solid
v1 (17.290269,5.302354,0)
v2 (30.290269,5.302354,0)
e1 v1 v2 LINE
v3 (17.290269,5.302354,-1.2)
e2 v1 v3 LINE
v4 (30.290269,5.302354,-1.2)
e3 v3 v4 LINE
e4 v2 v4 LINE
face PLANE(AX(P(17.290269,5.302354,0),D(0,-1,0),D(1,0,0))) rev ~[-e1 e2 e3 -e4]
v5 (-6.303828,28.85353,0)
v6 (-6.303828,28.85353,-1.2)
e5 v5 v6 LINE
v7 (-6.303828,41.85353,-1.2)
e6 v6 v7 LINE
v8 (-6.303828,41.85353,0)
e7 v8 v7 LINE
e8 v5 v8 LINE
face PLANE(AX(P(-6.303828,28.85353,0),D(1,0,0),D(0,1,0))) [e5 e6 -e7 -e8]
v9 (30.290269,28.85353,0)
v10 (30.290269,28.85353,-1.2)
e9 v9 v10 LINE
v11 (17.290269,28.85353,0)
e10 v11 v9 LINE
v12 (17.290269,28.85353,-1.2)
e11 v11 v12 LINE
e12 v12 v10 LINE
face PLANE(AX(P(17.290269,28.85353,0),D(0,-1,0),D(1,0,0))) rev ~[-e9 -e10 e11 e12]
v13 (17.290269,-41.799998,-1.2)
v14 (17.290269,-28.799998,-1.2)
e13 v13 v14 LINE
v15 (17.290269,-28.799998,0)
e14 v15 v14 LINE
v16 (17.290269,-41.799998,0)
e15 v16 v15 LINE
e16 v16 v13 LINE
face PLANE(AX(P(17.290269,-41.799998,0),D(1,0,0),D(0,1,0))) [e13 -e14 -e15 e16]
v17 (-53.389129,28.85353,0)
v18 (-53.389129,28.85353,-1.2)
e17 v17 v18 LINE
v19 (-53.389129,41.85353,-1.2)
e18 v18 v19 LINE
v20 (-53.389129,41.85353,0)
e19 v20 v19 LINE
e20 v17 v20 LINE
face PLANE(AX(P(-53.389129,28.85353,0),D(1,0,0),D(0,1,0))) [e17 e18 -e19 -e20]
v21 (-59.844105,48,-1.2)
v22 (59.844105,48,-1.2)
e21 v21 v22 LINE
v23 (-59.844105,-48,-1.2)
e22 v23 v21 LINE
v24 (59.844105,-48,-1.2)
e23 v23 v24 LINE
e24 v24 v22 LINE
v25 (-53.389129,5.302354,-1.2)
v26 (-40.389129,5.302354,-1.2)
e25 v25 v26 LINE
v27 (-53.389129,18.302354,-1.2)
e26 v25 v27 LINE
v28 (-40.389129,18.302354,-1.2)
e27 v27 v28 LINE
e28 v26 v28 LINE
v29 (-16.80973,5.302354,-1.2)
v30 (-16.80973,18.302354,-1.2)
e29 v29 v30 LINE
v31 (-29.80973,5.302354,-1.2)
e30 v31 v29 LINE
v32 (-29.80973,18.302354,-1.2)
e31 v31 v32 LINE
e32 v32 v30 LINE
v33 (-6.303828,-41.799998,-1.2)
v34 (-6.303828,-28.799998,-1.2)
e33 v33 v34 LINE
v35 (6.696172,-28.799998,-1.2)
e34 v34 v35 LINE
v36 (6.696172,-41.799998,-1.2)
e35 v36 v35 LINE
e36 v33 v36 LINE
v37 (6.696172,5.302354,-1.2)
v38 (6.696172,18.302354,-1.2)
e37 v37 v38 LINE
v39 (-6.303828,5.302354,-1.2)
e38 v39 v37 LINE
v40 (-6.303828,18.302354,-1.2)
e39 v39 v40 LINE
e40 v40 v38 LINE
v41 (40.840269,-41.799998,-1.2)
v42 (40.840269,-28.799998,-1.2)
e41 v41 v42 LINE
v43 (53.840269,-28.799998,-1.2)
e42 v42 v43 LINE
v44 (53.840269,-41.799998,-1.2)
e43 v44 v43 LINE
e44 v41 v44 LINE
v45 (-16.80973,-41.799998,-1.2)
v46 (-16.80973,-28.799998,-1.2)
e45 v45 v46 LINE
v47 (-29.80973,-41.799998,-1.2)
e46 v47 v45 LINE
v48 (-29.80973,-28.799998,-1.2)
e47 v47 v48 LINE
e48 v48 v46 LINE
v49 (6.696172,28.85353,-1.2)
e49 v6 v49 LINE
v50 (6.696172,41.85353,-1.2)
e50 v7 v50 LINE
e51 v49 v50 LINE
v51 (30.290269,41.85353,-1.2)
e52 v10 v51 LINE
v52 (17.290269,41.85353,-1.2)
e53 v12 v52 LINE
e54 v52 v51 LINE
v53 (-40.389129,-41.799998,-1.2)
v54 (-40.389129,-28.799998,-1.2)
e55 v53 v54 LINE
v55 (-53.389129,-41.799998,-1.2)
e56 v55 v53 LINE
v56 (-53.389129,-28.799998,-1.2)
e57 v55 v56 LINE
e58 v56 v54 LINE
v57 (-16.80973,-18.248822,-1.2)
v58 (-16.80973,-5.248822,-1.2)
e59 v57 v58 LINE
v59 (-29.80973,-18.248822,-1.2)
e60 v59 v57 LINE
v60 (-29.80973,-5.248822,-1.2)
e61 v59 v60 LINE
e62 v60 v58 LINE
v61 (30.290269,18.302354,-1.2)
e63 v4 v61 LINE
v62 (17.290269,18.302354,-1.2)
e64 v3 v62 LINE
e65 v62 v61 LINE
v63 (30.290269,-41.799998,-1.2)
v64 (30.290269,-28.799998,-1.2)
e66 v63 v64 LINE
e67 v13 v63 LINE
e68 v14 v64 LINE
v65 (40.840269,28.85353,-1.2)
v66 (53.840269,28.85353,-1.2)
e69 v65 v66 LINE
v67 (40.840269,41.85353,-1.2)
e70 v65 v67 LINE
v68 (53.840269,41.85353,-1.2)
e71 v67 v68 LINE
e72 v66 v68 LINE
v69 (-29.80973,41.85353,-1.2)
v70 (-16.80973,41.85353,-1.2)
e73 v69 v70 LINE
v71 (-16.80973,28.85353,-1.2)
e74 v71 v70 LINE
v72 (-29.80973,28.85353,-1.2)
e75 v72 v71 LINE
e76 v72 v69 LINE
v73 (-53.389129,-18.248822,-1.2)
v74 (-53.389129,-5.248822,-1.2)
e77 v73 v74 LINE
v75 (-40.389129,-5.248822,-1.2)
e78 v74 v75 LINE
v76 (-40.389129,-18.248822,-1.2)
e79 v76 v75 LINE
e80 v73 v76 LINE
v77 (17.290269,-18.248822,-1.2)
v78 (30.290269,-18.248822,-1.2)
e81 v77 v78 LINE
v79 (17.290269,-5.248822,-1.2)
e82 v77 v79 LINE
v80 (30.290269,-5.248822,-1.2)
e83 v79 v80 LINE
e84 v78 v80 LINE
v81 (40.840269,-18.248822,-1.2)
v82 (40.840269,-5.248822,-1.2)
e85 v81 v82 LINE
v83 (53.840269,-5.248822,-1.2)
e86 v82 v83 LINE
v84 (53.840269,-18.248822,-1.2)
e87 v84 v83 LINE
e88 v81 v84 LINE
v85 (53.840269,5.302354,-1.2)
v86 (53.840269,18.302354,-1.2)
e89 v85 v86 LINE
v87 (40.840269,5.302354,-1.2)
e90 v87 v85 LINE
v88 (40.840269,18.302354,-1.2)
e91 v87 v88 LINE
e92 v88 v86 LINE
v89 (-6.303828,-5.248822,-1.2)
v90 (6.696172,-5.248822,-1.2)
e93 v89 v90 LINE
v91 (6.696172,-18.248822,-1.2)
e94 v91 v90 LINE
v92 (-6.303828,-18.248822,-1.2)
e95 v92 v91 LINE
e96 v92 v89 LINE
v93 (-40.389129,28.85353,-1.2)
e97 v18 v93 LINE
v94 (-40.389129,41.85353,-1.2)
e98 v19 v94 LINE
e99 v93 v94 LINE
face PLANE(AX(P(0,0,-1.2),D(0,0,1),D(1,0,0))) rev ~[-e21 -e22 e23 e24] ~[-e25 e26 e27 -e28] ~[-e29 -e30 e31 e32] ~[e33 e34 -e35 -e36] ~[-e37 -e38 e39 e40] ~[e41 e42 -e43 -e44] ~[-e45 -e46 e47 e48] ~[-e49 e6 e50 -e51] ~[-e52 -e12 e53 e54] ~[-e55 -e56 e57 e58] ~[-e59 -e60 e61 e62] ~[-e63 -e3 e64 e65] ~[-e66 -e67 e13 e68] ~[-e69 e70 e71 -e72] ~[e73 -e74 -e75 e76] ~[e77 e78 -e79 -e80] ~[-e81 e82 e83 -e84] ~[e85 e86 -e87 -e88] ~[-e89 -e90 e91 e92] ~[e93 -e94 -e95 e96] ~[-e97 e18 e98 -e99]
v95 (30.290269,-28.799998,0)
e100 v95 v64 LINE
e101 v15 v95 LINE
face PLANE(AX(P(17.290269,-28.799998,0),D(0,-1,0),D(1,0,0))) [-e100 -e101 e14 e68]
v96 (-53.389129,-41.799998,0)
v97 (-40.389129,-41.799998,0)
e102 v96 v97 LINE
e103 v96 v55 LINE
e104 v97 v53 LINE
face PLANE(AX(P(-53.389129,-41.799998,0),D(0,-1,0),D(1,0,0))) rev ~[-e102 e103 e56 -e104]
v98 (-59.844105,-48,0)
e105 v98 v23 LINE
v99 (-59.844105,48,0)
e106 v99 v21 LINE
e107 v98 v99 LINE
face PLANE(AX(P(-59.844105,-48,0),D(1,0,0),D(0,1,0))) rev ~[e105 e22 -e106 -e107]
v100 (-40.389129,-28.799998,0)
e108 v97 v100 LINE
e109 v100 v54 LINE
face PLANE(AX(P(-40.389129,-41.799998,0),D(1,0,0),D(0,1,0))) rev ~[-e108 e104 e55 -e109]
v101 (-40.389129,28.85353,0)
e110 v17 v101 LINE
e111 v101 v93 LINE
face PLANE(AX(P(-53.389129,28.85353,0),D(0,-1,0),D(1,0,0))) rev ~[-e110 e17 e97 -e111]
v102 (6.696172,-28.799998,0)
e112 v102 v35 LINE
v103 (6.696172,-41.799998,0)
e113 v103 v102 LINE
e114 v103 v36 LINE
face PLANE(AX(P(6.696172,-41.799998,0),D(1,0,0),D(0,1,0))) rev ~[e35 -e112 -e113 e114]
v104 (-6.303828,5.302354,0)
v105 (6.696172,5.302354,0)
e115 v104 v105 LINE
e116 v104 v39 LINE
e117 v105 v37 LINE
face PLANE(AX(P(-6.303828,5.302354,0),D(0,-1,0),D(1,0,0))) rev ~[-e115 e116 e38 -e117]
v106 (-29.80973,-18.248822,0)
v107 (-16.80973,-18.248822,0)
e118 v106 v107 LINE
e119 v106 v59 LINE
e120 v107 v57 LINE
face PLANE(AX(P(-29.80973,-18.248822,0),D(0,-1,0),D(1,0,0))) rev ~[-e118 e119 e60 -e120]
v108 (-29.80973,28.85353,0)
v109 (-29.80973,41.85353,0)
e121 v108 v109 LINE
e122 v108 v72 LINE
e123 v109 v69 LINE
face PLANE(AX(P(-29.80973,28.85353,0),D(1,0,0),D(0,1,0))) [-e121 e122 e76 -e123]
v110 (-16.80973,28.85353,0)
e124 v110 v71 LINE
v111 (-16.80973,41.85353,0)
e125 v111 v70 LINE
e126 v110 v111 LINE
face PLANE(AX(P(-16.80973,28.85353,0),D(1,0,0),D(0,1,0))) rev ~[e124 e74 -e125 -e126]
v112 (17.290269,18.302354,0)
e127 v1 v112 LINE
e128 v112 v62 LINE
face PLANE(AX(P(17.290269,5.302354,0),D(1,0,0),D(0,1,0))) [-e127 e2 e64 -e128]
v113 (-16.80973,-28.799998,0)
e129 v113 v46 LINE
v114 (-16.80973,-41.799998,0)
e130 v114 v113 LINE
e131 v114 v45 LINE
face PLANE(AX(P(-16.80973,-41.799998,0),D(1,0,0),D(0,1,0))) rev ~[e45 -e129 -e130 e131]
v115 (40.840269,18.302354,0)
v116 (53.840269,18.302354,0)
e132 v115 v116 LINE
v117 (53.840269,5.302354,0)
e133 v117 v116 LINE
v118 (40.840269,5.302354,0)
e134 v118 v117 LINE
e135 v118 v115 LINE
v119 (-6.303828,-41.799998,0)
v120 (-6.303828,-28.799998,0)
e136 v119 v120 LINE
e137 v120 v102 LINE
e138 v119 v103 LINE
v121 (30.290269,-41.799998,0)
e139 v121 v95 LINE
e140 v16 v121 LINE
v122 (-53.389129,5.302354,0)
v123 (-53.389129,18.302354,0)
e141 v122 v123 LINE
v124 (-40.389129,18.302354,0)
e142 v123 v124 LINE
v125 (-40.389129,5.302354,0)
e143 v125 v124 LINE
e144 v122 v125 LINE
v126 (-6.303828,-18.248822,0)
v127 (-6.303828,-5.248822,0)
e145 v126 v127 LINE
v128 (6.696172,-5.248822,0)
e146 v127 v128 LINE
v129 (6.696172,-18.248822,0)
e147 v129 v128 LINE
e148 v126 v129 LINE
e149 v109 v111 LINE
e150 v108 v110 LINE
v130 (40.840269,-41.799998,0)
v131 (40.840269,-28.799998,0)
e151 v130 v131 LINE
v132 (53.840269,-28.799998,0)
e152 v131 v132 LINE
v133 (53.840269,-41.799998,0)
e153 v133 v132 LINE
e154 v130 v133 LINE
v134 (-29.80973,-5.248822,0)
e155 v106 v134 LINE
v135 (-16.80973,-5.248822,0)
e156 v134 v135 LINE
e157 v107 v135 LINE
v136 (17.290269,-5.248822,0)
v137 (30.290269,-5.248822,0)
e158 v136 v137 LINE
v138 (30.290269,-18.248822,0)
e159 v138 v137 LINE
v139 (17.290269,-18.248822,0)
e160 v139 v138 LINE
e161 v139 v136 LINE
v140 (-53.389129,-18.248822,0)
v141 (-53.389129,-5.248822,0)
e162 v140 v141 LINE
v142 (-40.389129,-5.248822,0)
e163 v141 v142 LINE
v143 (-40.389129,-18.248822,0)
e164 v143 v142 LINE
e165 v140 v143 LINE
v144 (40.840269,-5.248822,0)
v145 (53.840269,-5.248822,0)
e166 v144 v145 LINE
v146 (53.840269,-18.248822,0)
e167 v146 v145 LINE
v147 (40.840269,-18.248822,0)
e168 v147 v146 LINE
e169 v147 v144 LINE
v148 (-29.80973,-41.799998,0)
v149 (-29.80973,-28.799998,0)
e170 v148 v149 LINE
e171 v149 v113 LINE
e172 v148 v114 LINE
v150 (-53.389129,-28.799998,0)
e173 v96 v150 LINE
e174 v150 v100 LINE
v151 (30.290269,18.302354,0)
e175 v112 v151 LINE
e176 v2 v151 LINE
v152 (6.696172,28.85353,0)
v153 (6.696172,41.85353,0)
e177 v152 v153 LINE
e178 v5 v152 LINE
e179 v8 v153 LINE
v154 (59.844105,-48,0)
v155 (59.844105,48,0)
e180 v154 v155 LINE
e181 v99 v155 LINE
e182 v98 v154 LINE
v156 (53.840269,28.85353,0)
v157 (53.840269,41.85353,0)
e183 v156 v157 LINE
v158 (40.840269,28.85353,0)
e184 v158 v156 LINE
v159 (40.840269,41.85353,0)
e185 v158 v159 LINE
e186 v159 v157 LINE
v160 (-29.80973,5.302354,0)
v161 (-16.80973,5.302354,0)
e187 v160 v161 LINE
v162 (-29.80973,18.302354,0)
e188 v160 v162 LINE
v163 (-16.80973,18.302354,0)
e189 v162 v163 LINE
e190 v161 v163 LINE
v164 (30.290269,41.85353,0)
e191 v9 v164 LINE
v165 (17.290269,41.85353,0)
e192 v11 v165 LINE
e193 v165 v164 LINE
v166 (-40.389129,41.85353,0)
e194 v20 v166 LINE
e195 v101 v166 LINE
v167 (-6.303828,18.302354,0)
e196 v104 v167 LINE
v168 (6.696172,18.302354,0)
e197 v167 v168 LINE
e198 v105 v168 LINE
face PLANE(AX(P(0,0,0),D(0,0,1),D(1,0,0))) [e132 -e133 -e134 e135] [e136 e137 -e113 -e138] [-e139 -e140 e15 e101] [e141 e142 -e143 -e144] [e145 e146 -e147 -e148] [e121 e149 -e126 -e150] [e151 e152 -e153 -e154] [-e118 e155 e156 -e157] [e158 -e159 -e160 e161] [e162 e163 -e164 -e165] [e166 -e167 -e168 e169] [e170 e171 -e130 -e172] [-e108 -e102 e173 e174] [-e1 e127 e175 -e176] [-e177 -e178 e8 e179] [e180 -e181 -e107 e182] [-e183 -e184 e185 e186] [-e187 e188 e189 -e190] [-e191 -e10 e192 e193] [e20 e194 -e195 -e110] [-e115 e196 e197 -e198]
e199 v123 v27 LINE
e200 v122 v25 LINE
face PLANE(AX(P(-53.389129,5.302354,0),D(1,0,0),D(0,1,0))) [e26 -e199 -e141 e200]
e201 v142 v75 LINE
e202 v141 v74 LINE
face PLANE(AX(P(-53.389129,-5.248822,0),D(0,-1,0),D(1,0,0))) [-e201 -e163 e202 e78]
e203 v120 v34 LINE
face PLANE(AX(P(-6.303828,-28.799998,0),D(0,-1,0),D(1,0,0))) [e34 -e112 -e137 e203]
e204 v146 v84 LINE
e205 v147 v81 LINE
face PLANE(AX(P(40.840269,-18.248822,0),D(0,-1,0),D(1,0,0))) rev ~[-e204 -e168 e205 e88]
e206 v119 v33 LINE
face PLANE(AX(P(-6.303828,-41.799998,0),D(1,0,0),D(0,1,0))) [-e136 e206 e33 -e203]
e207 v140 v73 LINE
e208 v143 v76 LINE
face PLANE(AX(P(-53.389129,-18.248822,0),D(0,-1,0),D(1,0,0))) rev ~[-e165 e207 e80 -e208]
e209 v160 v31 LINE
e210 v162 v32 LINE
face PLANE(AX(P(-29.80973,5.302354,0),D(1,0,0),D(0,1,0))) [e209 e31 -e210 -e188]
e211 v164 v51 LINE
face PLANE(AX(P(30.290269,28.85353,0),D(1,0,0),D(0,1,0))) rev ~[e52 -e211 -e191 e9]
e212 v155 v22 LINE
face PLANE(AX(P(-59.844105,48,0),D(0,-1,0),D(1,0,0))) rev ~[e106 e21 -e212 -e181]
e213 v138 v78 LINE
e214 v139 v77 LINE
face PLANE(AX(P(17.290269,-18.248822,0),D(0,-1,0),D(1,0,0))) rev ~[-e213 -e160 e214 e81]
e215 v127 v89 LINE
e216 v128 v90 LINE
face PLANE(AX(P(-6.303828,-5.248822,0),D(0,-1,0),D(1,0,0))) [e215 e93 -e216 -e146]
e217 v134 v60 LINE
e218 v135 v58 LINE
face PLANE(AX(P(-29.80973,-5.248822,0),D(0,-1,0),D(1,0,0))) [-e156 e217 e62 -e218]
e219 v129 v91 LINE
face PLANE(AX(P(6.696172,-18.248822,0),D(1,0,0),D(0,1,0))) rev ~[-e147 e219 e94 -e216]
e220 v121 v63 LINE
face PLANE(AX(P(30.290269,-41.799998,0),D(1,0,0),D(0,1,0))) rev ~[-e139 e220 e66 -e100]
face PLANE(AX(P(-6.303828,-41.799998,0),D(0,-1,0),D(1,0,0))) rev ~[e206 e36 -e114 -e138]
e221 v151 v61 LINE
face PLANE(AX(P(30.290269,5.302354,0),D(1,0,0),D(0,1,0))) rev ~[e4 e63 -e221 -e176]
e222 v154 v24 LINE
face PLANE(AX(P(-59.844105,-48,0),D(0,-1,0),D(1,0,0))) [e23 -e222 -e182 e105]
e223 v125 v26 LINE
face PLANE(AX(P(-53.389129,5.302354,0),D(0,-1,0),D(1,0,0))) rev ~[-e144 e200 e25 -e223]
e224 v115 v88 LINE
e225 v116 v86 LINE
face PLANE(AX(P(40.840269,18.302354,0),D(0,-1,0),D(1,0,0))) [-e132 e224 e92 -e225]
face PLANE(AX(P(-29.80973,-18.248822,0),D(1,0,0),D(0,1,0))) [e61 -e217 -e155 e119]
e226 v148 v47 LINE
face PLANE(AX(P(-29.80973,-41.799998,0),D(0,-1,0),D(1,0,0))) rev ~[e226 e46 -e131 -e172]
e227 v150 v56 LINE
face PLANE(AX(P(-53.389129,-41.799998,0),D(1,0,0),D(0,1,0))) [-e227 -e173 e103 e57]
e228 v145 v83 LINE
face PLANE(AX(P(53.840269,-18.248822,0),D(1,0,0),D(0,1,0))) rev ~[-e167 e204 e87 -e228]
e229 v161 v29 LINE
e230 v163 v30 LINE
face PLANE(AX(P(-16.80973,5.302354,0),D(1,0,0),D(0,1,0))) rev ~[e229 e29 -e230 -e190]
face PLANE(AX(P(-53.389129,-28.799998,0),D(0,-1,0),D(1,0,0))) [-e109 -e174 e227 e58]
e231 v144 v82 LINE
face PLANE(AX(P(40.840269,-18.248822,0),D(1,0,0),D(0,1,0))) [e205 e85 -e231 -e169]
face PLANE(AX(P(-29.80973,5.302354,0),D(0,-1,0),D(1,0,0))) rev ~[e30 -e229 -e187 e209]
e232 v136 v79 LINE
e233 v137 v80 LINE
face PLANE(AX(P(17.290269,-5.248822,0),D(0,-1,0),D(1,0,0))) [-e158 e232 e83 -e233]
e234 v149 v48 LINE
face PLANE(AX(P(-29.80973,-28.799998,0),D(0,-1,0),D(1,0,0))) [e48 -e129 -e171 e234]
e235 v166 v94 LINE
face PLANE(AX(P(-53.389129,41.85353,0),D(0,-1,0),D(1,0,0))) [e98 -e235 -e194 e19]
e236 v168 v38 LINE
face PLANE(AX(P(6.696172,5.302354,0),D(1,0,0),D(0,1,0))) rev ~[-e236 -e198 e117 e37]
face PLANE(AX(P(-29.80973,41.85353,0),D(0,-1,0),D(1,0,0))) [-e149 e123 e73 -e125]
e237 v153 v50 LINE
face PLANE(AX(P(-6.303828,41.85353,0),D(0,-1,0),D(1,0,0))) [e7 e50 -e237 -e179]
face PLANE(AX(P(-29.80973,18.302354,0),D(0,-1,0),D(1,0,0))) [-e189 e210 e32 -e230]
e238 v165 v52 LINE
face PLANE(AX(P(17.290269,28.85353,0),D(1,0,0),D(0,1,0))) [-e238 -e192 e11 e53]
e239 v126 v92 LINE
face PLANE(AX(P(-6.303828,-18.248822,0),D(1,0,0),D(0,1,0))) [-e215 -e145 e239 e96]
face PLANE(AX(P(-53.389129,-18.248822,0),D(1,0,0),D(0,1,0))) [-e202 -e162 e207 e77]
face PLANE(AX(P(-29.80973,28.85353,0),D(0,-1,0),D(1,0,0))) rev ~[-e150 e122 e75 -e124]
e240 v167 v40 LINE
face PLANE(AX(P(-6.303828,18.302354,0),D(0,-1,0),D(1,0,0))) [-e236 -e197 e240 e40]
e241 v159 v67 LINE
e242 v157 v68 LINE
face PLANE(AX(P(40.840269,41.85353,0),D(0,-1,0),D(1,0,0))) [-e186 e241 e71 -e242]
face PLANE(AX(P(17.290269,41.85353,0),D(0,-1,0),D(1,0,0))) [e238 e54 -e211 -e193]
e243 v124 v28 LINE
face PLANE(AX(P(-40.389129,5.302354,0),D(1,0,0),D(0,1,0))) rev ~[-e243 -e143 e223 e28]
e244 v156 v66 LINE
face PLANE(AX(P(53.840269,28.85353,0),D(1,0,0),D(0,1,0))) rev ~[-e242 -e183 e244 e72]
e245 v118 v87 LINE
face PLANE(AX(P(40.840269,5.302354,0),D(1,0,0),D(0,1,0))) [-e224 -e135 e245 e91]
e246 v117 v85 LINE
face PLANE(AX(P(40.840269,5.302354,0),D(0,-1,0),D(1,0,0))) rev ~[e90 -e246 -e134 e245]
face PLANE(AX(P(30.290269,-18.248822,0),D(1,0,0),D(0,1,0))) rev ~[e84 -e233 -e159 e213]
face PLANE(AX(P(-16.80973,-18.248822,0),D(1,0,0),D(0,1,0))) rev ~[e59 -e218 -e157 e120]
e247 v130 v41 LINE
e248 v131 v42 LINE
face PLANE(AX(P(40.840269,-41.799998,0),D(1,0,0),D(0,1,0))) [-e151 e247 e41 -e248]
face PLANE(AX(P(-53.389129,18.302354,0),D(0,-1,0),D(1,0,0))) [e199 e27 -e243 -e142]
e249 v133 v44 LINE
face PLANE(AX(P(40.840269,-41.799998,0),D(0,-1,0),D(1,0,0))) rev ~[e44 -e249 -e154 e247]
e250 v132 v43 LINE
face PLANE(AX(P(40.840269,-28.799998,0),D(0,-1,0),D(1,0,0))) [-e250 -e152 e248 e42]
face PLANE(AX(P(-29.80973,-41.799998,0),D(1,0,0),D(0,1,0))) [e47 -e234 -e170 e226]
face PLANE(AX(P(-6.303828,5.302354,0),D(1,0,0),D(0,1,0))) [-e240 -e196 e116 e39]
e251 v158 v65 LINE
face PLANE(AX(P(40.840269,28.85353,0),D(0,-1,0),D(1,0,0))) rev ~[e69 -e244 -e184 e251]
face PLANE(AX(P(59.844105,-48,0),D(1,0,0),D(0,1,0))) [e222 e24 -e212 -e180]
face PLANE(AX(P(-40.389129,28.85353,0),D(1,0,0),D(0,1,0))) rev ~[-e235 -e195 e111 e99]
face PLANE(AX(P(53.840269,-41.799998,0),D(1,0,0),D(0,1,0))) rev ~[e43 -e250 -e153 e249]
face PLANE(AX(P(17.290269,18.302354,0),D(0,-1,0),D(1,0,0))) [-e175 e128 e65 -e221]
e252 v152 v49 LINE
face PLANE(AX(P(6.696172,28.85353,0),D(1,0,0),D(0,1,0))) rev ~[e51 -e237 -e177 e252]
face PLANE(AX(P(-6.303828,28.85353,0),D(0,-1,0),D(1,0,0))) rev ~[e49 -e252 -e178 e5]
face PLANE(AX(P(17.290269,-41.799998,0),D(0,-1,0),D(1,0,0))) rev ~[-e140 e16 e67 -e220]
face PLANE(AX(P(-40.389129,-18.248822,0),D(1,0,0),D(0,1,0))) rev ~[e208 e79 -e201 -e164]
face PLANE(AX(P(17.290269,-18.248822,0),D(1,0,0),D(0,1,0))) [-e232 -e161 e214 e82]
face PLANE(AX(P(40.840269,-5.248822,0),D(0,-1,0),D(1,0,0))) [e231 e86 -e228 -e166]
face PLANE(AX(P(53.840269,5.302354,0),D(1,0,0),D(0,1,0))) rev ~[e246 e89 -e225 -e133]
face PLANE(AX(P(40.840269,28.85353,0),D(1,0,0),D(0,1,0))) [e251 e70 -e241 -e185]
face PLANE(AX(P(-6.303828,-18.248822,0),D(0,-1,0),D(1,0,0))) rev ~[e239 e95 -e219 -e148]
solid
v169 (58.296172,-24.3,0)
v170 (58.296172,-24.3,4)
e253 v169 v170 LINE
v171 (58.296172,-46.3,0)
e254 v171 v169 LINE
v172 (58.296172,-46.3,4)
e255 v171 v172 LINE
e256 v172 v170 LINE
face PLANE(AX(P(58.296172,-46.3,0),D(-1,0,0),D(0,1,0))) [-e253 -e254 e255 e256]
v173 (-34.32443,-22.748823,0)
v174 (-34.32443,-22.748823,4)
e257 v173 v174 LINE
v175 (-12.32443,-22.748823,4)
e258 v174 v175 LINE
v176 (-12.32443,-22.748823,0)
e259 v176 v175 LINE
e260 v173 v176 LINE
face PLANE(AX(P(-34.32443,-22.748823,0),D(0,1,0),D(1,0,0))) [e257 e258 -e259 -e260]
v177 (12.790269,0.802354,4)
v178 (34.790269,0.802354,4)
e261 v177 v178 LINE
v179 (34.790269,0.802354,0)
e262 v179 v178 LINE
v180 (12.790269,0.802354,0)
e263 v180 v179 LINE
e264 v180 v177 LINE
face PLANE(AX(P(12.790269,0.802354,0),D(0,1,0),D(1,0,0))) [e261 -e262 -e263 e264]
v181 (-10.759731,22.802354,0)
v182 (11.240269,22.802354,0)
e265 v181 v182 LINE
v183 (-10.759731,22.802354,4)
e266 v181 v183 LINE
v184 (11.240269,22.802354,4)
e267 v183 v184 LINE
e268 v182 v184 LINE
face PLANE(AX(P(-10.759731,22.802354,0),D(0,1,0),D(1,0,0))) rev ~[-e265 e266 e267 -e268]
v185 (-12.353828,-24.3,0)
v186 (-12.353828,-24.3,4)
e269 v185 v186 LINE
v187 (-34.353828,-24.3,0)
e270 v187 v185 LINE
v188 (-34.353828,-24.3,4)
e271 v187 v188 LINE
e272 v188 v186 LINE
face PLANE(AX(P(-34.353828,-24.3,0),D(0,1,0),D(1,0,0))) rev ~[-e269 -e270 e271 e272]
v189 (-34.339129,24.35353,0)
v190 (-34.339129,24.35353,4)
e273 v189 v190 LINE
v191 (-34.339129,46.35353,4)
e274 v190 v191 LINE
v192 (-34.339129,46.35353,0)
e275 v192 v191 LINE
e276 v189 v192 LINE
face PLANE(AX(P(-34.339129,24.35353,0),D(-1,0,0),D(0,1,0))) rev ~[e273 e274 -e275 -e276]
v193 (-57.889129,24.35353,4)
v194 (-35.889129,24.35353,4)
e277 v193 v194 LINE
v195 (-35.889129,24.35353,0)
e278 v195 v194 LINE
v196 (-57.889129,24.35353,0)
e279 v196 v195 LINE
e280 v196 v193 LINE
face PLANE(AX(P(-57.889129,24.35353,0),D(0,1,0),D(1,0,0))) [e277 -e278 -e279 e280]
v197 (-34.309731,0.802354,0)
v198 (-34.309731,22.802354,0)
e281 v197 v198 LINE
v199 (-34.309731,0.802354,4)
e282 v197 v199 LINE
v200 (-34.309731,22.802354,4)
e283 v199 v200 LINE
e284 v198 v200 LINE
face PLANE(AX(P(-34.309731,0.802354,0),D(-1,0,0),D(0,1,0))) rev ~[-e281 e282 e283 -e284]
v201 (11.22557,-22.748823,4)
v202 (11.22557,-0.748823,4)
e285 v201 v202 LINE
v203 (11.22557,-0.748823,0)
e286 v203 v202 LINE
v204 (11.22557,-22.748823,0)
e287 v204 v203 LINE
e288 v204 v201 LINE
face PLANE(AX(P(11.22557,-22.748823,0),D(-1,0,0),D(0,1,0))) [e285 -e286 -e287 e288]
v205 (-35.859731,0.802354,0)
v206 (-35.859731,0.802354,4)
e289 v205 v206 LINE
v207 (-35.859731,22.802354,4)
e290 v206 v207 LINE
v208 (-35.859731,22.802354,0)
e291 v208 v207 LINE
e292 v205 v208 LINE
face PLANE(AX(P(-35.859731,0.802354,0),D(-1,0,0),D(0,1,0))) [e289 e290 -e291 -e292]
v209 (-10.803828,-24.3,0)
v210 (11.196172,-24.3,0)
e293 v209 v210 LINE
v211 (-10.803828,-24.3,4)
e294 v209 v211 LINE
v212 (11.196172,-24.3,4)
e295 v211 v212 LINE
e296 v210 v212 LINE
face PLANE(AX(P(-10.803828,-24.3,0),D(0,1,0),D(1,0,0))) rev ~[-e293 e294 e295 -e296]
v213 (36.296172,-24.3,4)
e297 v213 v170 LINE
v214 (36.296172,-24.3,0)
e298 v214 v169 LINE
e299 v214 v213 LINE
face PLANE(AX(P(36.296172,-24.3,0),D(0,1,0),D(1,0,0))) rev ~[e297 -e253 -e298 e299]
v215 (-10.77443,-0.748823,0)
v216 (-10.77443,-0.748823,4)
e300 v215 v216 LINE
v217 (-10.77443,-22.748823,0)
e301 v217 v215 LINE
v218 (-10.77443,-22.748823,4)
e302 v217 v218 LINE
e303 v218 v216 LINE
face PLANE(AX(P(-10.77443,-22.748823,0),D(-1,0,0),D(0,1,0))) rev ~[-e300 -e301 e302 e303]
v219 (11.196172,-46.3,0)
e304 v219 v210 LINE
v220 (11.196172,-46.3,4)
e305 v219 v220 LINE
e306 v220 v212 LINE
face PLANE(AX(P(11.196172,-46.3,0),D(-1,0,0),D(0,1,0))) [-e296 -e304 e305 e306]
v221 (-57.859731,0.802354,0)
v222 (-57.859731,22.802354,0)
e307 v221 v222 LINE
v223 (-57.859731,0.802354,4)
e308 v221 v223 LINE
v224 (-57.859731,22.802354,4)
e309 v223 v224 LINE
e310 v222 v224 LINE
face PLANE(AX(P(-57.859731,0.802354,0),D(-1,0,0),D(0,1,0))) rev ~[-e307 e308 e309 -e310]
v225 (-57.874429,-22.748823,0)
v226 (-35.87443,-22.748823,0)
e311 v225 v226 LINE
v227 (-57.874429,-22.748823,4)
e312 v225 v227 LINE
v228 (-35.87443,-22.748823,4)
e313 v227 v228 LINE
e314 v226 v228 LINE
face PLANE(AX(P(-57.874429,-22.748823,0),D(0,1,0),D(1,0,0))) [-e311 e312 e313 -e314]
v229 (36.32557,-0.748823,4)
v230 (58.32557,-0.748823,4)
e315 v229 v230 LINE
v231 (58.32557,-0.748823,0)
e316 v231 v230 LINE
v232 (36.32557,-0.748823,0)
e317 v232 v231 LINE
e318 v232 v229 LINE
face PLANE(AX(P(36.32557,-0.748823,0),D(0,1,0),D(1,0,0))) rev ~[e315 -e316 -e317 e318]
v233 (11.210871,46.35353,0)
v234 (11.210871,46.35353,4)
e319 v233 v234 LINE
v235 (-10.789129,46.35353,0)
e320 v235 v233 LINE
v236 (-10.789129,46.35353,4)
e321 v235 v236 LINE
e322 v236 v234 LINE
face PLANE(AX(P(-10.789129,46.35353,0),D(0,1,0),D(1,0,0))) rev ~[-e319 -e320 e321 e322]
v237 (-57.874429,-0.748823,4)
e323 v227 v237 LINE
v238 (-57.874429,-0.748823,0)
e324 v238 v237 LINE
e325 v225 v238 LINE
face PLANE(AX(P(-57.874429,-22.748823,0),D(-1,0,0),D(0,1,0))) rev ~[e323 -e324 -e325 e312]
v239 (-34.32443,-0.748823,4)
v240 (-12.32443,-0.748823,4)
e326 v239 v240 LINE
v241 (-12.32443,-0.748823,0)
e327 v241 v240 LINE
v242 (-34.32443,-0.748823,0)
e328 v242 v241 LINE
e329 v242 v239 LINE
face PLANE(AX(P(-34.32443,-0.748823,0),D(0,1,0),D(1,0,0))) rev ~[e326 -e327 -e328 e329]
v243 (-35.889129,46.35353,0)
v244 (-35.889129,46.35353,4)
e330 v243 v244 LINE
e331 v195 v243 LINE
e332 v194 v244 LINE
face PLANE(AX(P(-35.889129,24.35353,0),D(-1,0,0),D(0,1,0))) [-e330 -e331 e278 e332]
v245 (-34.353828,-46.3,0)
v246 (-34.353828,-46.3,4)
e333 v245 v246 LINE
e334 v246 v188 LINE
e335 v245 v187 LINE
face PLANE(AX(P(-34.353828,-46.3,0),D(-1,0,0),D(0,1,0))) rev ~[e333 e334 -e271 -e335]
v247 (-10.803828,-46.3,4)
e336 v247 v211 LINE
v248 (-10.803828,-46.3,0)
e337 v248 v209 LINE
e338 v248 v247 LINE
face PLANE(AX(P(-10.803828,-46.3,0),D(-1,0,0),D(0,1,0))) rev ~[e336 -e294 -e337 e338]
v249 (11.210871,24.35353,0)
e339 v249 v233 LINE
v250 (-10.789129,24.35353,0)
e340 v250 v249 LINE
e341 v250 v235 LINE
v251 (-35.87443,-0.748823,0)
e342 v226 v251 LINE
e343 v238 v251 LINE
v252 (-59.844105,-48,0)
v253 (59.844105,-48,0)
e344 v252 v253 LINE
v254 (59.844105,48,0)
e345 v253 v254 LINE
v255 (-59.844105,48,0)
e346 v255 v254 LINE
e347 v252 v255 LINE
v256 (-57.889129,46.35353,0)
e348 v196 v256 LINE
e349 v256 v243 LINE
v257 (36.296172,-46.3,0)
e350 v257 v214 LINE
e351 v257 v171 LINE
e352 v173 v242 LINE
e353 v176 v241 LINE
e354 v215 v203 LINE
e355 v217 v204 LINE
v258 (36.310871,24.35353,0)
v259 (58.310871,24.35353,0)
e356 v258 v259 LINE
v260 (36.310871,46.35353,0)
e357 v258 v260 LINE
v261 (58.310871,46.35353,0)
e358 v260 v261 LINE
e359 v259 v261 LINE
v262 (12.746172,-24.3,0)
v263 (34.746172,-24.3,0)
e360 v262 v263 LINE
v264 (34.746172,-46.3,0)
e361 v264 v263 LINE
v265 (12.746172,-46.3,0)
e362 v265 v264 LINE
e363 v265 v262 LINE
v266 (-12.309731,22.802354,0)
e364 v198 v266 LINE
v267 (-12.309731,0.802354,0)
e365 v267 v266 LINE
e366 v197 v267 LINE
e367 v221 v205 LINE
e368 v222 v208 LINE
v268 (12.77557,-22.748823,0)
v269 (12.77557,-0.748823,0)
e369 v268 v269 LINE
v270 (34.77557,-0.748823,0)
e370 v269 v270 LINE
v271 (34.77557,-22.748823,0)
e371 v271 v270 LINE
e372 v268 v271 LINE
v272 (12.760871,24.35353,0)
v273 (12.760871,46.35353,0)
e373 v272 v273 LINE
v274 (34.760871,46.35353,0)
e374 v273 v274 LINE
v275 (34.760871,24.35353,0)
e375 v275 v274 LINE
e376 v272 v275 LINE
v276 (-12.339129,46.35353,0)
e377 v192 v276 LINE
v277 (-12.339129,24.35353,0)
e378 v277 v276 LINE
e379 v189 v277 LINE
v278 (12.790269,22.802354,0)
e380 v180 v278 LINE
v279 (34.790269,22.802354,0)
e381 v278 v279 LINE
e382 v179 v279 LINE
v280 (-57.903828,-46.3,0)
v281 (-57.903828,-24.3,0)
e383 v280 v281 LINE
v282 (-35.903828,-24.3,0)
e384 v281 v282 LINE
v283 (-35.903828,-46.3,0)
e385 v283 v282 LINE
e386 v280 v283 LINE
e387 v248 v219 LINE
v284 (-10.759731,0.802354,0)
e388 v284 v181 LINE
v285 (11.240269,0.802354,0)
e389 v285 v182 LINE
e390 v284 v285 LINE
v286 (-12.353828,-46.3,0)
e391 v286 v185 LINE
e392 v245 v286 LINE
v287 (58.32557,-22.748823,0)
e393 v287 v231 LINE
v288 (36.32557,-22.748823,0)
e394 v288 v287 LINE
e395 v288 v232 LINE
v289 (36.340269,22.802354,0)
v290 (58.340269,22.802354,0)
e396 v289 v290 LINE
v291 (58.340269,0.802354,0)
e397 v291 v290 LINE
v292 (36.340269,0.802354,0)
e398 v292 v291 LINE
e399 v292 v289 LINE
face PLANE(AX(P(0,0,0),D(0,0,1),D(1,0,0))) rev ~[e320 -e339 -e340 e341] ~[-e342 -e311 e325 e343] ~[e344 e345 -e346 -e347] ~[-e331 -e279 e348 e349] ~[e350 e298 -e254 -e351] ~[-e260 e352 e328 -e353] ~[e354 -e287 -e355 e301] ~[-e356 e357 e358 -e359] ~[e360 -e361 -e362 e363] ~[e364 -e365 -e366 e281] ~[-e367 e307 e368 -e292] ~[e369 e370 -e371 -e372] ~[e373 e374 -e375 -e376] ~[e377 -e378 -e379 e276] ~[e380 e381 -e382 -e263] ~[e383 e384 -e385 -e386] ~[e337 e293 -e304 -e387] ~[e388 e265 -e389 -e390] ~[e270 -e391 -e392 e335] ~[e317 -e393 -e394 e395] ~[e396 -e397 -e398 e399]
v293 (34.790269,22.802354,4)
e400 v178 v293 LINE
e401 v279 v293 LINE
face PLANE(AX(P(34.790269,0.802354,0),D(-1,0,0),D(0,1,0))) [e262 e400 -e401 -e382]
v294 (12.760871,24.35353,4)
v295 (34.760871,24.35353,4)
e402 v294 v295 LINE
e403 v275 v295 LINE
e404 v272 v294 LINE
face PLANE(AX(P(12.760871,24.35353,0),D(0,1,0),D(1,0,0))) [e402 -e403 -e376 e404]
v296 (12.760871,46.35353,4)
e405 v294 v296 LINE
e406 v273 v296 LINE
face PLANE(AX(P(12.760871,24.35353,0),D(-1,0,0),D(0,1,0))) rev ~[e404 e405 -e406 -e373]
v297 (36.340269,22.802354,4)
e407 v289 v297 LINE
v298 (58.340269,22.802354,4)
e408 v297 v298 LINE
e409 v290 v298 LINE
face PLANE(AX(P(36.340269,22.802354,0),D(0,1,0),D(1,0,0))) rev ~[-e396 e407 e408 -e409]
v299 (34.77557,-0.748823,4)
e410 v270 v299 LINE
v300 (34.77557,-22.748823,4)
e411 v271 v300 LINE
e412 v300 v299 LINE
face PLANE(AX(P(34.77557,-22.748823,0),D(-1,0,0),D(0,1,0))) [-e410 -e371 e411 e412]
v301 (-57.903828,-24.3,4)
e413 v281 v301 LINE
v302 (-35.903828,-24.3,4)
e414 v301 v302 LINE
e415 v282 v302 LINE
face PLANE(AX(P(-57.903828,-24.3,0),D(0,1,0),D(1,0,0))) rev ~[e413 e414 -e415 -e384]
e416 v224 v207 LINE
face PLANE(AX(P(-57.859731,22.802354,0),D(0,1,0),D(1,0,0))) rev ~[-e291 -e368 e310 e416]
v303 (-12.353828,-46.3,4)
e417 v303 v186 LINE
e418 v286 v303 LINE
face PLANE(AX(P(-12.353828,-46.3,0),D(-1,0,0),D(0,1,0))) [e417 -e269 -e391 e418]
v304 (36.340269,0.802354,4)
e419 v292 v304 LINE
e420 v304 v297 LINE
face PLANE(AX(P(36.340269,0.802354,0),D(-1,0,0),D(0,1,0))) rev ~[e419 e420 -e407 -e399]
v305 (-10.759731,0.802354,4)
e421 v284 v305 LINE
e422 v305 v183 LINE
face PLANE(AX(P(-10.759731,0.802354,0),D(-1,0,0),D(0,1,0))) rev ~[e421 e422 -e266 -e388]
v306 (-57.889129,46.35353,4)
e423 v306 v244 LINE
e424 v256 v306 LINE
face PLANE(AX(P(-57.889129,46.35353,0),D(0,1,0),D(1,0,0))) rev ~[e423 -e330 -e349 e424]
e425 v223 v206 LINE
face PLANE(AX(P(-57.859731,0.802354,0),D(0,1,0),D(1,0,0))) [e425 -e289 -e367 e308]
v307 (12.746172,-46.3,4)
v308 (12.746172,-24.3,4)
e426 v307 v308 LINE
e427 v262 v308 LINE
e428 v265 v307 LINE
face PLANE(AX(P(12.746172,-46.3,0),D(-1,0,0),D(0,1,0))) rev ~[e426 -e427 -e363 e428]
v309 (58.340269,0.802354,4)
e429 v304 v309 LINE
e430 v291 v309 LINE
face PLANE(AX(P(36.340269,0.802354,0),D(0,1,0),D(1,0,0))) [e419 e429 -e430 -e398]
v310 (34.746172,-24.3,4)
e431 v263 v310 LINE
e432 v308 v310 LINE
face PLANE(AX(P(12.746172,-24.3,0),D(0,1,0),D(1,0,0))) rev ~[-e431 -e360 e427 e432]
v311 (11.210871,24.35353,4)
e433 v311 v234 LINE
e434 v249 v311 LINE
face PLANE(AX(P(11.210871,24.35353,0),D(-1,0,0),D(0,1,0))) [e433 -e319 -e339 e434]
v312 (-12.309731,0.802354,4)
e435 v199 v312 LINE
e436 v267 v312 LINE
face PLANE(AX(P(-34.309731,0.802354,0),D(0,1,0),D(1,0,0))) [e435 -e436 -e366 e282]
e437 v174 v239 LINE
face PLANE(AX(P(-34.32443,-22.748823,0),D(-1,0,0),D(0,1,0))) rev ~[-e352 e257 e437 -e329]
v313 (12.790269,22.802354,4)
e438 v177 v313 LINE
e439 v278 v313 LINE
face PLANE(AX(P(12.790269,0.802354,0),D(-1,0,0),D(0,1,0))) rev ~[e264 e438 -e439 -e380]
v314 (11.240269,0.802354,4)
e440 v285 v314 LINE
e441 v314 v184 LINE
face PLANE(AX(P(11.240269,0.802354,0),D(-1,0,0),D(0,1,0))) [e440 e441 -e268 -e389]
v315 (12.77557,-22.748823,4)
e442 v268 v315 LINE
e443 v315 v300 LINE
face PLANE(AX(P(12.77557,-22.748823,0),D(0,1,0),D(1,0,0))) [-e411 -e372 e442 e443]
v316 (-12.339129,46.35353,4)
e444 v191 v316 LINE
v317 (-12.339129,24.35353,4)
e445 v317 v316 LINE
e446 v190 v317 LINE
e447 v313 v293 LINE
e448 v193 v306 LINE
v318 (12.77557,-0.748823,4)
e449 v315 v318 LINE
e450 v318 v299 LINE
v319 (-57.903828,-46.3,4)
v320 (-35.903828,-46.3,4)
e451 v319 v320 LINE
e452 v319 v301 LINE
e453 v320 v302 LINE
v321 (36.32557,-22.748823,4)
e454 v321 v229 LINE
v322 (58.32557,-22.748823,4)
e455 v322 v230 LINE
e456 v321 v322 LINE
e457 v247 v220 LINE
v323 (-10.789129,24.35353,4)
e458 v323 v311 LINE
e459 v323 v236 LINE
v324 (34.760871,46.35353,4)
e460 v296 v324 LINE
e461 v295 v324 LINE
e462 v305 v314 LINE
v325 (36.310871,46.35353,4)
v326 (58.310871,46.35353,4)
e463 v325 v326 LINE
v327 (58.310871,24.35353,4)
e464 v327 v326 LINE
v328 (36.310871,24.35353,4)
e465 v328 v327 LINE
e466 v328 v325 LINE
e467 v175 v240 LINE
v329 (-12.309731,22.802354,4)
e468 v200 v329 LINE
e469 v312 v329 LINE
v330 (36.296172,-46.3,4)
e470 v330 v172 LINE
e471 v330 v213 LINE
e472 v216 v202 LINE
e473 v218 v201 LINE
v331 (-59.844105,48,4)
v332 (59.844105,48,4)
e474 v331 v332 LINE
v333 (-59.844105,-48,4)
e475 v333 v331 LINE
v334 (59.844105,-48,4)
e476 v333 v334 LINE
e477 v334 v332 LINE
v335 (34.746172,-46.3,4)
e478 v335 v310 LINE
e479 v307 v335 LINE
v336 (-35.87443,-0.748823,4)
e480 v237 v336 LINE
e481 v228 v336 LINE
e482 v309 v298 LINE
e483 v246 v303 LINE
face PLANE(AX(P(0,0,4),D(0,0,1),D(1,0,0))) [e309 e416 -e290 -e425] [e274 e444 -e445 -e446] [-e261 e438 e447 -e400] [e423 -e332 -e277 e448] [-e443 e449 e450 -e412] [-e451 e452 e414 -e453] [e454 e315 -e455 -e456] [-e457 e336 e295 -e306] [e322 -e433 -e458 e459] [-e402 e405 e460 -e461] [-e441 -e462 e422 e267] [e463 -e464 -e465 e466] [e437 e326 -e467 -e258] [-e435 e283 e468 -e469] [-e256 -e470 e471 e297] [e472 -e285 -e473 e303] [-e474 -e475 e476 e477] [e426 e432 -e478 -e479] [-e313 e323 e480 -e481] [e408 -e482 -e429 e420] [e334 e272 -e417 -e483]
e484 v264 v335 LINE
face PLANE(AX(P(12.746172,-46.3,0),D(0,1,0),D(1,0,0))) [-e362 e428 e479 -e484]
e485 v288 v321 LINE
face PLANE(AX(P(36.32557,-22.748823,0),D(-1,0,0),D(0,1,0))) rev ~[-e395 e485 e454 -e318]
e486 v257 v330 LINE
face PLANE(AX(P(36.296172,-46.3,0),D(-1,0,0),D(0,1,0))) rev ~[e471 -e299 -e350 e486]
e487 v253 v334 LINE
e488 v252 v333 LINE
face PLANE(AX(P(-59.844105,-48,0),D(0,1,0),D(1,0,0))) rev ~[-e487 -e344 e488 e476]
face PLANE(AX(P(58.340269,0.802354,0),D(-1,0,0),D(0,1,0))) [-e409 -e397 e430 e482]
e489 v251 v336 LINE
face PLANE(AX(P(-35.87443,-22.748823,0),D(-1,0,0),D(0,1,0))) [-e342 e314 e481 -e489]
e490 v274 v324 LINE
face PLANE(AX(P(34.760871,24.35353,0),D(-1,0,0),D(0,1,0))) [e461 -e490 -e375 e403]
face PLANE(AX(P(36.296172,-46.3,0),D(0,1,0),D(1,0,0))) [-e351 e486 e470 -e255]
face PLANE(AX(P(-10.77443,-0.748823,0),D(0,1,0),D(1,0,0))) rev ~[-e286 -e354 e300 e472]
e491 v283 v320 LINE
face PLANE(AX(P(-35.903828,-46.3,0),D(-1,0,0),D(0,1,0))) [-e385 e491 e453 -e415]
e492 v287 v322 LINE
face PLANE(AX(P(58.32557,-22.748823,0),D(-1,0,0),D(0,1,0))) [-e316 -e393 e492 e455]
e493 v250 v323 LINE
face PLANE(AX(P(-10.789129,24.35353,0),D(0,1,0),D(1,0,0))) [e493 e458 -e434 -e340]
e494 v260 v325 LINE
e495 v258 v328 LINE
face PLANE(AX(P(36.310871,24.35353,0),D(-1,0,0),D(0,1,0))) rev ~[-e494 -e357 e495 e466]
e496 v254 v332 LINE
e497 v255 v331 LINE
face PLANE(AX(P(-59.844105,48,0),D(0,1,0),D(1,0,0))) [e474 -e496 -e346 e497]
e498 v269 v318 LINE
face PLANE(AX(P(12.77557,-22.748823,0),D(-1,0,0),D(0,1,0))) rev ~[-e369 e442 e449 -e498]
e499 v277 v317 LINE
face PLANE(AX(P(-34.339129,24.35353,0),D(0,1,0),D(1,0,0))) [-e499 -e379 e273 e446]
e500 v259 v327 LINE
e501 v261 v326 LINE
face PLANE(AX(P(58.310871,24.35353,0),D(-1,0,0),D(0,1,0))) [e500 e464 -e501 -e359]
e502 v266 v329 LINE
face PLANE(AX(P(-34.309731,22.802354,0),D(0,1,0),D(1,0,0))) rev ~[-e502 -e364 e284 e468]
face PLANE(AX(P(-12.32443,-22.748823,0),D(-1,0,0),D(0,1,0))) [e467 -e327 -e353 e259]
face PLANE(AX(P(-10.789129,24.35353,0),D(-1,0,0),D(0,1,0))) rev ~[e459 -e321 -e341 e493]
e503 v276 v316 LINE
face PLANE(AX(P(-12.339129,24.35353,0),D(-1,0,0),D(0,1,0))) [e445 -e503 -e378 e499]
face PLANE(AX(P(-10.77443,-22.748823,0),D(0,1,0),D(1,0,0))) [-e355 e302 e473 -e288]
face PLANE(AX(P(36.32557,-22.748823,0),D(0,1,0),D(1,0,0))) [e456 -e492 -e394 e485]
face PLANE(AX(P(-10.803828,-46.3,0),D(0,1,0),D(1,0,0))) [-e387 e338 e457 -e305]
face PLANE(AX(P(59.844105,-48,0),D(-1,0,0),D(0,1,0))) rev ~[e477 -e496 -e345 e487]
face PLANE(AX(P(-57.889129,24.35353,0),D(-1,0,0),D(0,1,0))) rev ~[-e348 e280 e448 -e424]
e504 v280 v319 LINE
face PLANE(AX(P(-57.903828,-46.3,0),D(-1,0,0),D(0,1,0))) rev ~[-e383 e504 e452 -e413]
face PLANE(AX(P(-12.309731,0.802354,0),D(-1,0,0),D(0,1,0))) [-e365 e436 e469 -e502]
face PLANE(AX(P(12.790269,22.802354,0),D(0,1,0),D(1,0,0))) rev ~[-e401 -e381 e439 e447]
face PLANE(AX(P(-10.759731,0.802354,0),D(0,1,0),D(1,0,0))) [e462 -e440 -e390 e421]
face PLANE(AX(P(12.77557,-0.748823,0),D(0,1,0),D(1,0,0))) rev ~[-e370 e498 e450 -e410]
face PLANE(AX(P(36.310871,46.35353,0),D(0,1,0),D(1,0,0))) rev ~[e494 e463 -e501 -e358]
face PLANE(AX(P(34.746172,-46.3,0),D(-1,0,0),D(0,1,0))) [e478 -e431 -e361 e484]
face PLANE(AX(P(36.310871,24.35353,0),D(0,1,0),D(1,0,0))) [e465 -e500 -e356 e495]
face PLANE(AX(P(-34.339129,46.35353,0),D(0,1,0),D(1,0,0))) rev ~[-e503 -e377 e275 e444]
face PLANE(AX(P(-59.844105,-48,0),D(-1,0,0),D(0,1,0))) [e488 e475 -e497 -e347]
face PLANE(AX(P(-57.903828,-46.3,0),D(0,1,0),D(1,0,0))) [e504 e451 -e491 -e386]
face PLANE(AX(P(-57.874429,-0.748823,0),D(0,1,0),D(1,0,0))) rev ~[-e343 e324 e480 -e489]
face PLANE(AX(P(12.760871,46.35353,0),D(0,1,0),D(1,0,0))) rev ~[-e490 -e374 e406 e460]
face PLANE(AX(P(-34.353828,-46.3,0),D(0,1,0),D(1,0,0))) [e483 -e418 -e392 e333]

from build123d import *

# Parameters (mm, degrees)
F0_W     = 119.688211
F0_H     = 96
F0_W_2   = 22
F0_H_2   = 22
F0_W_3   = 21.999999
F1_DEPTH = 4
F0_W_4   = 13
F0_H_3   = 13
F2_DEPTH = 1.2


with BuildPart() as f1:
    # F0 (on Top) → F1 (new body)
    with BuildSketch(Plane.XY):
        with Locations((-5e-07, 0)):
            Rectangle(F0_W, F0_H)
        with Locations((-46.903828, -35.3)):
            Rectangle(F0_W_2, F0_H_2, mode=Mode.SUBTRACT)
        with Locations((-23.353828, -35.3)):
            Rectangle(F0_W_2, F0_H_2, mode=Mode.SUBTRACT)
        with Locations((-46.8744295, -11.748823)):
            Rectangle(F0_W_3, F0_H_2, mode=Mode.SUBTRACT)
        with Locations((-23.32443, -11.748823)):
            Rectangle(F0_W_2, F0_H_2, mode=Mode.SUBTRACT)
        with Locations((0.196172, -35.3)):
            Rectangle(F0_W_2, F0_H_2, mode=Mode.SUBTRACT)
        with Locations((23.746172, -35.3)):
            Rectangle(F0_W_2, F0_H_2, mode=Mode.SUBTRACT)
        with Locations((47.296172, -35.3)):
            Rectangle(F0_W_2, F0_H_2, mode=Mode.SUBTRACT)
        with Locations((0.22557, -11.748823)):
            Rectangle(F0_W_2, F0_H_2, mode=Mode.SUBTRACT)
        with Locations((23.77557, -11.748823)):
            Rectangle(F0_W_2, F0_H_2, mode=Mode.SUBTRACT)
        with Locations((47.32557, -11.748823)):
            Rectangle(F0_W_2, F0_H_2, mode=Mode.SUBTRACT)
        with Locations((-46.859731, 11.802354)):
            Rectangle(F0_W_2, F0_H_2, mode=Mode.SUBTRACT)
        with Locations((-23.309731, 11.802354)):
            Rectangle(F0_W_2, F0_H_2, mode=Mode.SUBTRACT)
        with Locations((-46.889129, 35.35353)):
            Rectangle(F0_W_2, F0_H_2, mode=Mode.SUBTRACT)
        with Locations((-23.339129, 35.35353)):
            Rectangle(F0_W_2, F0_H_2, mode=Mode.SUBTRACT)
        with Locations((0.240269, 11.802354)):
            Rectangle(F0_W_2, F0_H_2, mode=Mode.SUBTRACT)
        with Locations((23.790269, 11.802354)):
            Rectangle(F0_W_2, F0_H_2, mode=Mode.SUBTRACT)
        with Locations((47.340269, 11.802354)):
            Rectangle(F0_W_2, F0_H_2, mode=Mode.SUBTRACT)
        with Locations((0.210871, 35.35353)):
            Rectangle(F0_W_2, F0_H_2, mode=Mode.SUBTRACT)
        with Locations((23.760871, 35.35353)):
            Rectangle(F0_W_2, F0_H_2, mode=Mode.SUBTRACT)
        with Locations((47.310871, 35.35353)):
            Rectangle(F0_W_2, F0_H_2, mode=Mode.SUBTRACT)
    extrude(amount=F1_DEPTH)


with BuildPart() as f2:
    # F0 (on Top) → F2 (new body)
    with BuildSketch(Plane.XY):
        with Locations((-5e-07, 0)):
            Rectangle(F0_W, F0_H)
        with Locations((-46.903828, -35.3)):
            Rectangle(F0_W_2, F0_H_2, mode=Mode.SUBTRACT)
        with Locations((-23.353828, -35.3)):
            Rectangle(F0_W_2, F0_H_2, mode=Mode.SUBTRACT)
        with Locations((-46.8744295, -11.748823)):
            Rectangle(F0_W_3, F0_H_2, mode=Mode.SUBTRACT)
        with Locations((-23.32443, -11.748823)):
            Rectangle(F0_W_2, F0_H_2, mode=Mode.SUBTRACT)
        with Locations((0.196172, -35.3)):
            Rectangle(F0_W_2, F0_H_2, mode=Mode.SUBTRACT)
        with Locations((23.746172, -35.3)):
            Rectangle(F0_W_2, F0_H_2, mode=Mode.SUBTRACT)
        with Locations((47.296172, -35.3)):
            Rectangle(F0_W_2, F0_H_2, mode=Mode.SUBTRACT)
        with Locations((0.22557, -11.748823)):
            Rectangle(F0_W_2, F0_H_2, mode=Mode.SUBTRACT)
        with Locations((23.77557, -11.748823)):
            Rectangle(F0_W_2, F0_H_2, mode=Mode.SUBTRACT)
        with Locations((47.32557, -11.748823)):
            Rectangle(F0_W_2, F0_H_2, mode=Mode.SUBTRACT)
        with Locations((-46.859731, 11.802354)):
            Rectangle(F0_W_2, F0_H_2, mode=Mode.SUBTRACT)
        with Locations((-23.309731, 11.802354)):
            Rectangle(F0_W_2, F0_H_2, mode=Mode.SUBTRACT)
        with Locations((-46.889129, 35.35353)):
            Rectangle(F0_W_2, F0_H_2, mode=Mode.SUBTRACT)
        with Locations((-23.339129, 35.35353)):
            Rectangle(F0_W_2, F0_H_2, mode=Mode.SUBTRACT)
        with Locations((0.240269, 11.802354)):
            Rectangle(F0_W_2, F0_H_2, mode=Mode.SUBTRACT)
        with Locations((23.790269, 11.802354)):
            Rectangle(F0_W_2, F0_H_2, mode=Mode.SUBTRACT)
        with Locations((47.340269, 11.802354)):
            Rectangle(F0_W_2, F0_H_2, mode=Mode.SUBTRACT)
        with Locations((0.210871, 35.35353)):
            Rectangle(F0_W_2, F0_H_2, mode=Mode.SUBTRACT)
        with Locations((23.760871, 35.35353)):
            Rectangle(F0_W_2, F0_H_2, mode=Mode.SUBTRACT)
        with Locations((47.310871, 35.35353)):
            Rectangle(F0_W_2, F0_H_2, mode=Mode.SUBTRACT)
        with Locations((23.746172, -35.3)):
            Rectangle(F0_W_2, F0_H_2)
        with Locations((23.790269, -35.299998)):
            Rectangle(F0_W_4, F0_H_3, mode=Mode.SUBTRACT)
        with Locations((-23.32443, -11.748823)):
            Rectangle(F0_W_2, F0_H_2)
        with Locations((-23.30973, -11.748822)):
            Rectangle(F0_W_4, F0_H_3, mode=Mode.SUBTRACT)
        with Locations((-46.889129, 35.35353)):
            Rectangle(F0_W_2, F0_H_2)
        with Locations((-46.889129, 35.35353)):
            Rectangle(F0_W_4, F0_H_3, mode=Mode.SUBTRACT)
        with Locations((47.310871, 35.35353)):
            Rectangle(F0_W_2, F0_H_2)
        with Locations((47.340269, 35.35353)):
            Rectangle(F0_W_4, F0_H_3, mode=Mode.SUBTRACT)
        with Locations((0.240269, 11.802354)):
            Rectangle(F0_W_2, F0_H_2)
        with Locations((0.196172, 11.802354)):
            Rectangle(F0_W_4, F0_H_3, mode=Mode.SUBTRACT)
        with Locations((-23.353828, -35.3)):
            Rectangle(F0_W_2, F0_H_2)
        with Locations((-23.30973, -35.299998)):
            Rectangle(F0_W_4, F0_H_3, mode=Mode.SUBTRACT)
        with Locations((-46.859731, 11.802354)):
            Rectangle(F0_W_2, F0_H_2)
        with Locations((-46.889129, 11.802354)):
            Rectangle(F0_W_4, F0_H_3, mode=Mode.SUBTRACT)
        with Locations((0.22557, -11.748823)):
            Rectangle(F0_W_2, F0_H_2)
        with Locations((0.196172, -11.748822)):
            Rectangle(F0_W_4, F0_H_3, mode=Mode.SUBTRACT)
        with Locations((47.340269, 11.802354)):
            Rectangle(F0_W_2, F0_H_2)
        with Locations((47.340269, 11.802354)):
            Rectangle(F0_W_4, F0_H_3, mode=Mode.SUBTRACT)
        with Locations((0.210871, 35.35353)):
            Rectangle(F0_W_2, F0_H_2)
        with Locations((0.196172, 35.35353)):
            Rectangle(F0_W_4, F0_H_3, mode=Mode.SUBTRACT)
        with Locations((47.32557, -11.748823)):
            Rectangle(F0_W_2, F0_H_2)
        with Locations((47.340269, -11.748822)):
            Rectangle(F0_W_4, F0_H_3, mode=Mode.SUBTRACT)
        with Locations((23.760871, 35.35353)):
            Rectangle(F0_W_2, F0_H_2)
        with Locations((23.790269, 35.35353)):
            Rectangle(F0_W_4, F0_H_3, mode=Mode.SUBTRACT)
        with Locations((47.296172, -35.3)):
            Rectangle(F0_W_2, F0_H_2)
        with Locations((47.340269, -35.299998)):
            Rectangle(F0_W_4, F0_H_3, mode=Mode.SUBTRACT)
        with Locations((-46.903828, -35.3)):
            Rectangle(F0_W_2, F0_H_2)
        with Locations((-46.889129, -35.299998)):
            Rectangle(F0_W_4, F0_H_3, mode=Mode.SUBTRACT)
        with Locations((23.790269, 11.802354)):
            Rectangle(F0_W_2, F0_H_2)
        with Locations((23.790269, 11.802354)):
            Rectangle(F0_W_4, F0_H_3, mode=Mode.SUBTRACT)
        with Locations((-23.339129, 35.35353)):
            Rectangle(F0_W_2, F0_H_2)
        with Locations((-23.30973, 35.35353)):
            Rectangle(F0_W_4, F0_H_3, mode=Mode.SUBTRACT)
        with Locations((23.77557, -11.748823)):
            Rectangle(F0_W_2, F0_H_2)
        with Locations((23.790269, -11.748822)):
            Rectangle(F0_W_4, F0_H_3, mode=Mode.SUBTRACT)
        with Locations((0.196172, -35.3)):
            Rectangle(F0_W_2, F0_H_2)
        with Locations((0.196172, -35.299998)):
            Rectangle(F0_W_4, F0_H_3, mode=Mode.SUBTRACT)
        with Locations((-23.309731, 11.802354)):
            Rectangle(F0_W_2, F0_H_2)
        with Locations((-23.30973, 11.802354)):
            Rectangle(F0_W_4, F0_H_3, mode=Mode.SUBTRACT)
        with Locations((-46.8744295, -11.748823)):
            Rectangle(F0_W_3, F0_H_2)
        with Locations((-46.889129, -11.748822)):
            Rectangle(F0_W_4, F0_H_3, mode=Mode.SUBTRACT)
    extrude(amount=-F2_DEPTH)


solid = Compound([f1.part, f2.part])
